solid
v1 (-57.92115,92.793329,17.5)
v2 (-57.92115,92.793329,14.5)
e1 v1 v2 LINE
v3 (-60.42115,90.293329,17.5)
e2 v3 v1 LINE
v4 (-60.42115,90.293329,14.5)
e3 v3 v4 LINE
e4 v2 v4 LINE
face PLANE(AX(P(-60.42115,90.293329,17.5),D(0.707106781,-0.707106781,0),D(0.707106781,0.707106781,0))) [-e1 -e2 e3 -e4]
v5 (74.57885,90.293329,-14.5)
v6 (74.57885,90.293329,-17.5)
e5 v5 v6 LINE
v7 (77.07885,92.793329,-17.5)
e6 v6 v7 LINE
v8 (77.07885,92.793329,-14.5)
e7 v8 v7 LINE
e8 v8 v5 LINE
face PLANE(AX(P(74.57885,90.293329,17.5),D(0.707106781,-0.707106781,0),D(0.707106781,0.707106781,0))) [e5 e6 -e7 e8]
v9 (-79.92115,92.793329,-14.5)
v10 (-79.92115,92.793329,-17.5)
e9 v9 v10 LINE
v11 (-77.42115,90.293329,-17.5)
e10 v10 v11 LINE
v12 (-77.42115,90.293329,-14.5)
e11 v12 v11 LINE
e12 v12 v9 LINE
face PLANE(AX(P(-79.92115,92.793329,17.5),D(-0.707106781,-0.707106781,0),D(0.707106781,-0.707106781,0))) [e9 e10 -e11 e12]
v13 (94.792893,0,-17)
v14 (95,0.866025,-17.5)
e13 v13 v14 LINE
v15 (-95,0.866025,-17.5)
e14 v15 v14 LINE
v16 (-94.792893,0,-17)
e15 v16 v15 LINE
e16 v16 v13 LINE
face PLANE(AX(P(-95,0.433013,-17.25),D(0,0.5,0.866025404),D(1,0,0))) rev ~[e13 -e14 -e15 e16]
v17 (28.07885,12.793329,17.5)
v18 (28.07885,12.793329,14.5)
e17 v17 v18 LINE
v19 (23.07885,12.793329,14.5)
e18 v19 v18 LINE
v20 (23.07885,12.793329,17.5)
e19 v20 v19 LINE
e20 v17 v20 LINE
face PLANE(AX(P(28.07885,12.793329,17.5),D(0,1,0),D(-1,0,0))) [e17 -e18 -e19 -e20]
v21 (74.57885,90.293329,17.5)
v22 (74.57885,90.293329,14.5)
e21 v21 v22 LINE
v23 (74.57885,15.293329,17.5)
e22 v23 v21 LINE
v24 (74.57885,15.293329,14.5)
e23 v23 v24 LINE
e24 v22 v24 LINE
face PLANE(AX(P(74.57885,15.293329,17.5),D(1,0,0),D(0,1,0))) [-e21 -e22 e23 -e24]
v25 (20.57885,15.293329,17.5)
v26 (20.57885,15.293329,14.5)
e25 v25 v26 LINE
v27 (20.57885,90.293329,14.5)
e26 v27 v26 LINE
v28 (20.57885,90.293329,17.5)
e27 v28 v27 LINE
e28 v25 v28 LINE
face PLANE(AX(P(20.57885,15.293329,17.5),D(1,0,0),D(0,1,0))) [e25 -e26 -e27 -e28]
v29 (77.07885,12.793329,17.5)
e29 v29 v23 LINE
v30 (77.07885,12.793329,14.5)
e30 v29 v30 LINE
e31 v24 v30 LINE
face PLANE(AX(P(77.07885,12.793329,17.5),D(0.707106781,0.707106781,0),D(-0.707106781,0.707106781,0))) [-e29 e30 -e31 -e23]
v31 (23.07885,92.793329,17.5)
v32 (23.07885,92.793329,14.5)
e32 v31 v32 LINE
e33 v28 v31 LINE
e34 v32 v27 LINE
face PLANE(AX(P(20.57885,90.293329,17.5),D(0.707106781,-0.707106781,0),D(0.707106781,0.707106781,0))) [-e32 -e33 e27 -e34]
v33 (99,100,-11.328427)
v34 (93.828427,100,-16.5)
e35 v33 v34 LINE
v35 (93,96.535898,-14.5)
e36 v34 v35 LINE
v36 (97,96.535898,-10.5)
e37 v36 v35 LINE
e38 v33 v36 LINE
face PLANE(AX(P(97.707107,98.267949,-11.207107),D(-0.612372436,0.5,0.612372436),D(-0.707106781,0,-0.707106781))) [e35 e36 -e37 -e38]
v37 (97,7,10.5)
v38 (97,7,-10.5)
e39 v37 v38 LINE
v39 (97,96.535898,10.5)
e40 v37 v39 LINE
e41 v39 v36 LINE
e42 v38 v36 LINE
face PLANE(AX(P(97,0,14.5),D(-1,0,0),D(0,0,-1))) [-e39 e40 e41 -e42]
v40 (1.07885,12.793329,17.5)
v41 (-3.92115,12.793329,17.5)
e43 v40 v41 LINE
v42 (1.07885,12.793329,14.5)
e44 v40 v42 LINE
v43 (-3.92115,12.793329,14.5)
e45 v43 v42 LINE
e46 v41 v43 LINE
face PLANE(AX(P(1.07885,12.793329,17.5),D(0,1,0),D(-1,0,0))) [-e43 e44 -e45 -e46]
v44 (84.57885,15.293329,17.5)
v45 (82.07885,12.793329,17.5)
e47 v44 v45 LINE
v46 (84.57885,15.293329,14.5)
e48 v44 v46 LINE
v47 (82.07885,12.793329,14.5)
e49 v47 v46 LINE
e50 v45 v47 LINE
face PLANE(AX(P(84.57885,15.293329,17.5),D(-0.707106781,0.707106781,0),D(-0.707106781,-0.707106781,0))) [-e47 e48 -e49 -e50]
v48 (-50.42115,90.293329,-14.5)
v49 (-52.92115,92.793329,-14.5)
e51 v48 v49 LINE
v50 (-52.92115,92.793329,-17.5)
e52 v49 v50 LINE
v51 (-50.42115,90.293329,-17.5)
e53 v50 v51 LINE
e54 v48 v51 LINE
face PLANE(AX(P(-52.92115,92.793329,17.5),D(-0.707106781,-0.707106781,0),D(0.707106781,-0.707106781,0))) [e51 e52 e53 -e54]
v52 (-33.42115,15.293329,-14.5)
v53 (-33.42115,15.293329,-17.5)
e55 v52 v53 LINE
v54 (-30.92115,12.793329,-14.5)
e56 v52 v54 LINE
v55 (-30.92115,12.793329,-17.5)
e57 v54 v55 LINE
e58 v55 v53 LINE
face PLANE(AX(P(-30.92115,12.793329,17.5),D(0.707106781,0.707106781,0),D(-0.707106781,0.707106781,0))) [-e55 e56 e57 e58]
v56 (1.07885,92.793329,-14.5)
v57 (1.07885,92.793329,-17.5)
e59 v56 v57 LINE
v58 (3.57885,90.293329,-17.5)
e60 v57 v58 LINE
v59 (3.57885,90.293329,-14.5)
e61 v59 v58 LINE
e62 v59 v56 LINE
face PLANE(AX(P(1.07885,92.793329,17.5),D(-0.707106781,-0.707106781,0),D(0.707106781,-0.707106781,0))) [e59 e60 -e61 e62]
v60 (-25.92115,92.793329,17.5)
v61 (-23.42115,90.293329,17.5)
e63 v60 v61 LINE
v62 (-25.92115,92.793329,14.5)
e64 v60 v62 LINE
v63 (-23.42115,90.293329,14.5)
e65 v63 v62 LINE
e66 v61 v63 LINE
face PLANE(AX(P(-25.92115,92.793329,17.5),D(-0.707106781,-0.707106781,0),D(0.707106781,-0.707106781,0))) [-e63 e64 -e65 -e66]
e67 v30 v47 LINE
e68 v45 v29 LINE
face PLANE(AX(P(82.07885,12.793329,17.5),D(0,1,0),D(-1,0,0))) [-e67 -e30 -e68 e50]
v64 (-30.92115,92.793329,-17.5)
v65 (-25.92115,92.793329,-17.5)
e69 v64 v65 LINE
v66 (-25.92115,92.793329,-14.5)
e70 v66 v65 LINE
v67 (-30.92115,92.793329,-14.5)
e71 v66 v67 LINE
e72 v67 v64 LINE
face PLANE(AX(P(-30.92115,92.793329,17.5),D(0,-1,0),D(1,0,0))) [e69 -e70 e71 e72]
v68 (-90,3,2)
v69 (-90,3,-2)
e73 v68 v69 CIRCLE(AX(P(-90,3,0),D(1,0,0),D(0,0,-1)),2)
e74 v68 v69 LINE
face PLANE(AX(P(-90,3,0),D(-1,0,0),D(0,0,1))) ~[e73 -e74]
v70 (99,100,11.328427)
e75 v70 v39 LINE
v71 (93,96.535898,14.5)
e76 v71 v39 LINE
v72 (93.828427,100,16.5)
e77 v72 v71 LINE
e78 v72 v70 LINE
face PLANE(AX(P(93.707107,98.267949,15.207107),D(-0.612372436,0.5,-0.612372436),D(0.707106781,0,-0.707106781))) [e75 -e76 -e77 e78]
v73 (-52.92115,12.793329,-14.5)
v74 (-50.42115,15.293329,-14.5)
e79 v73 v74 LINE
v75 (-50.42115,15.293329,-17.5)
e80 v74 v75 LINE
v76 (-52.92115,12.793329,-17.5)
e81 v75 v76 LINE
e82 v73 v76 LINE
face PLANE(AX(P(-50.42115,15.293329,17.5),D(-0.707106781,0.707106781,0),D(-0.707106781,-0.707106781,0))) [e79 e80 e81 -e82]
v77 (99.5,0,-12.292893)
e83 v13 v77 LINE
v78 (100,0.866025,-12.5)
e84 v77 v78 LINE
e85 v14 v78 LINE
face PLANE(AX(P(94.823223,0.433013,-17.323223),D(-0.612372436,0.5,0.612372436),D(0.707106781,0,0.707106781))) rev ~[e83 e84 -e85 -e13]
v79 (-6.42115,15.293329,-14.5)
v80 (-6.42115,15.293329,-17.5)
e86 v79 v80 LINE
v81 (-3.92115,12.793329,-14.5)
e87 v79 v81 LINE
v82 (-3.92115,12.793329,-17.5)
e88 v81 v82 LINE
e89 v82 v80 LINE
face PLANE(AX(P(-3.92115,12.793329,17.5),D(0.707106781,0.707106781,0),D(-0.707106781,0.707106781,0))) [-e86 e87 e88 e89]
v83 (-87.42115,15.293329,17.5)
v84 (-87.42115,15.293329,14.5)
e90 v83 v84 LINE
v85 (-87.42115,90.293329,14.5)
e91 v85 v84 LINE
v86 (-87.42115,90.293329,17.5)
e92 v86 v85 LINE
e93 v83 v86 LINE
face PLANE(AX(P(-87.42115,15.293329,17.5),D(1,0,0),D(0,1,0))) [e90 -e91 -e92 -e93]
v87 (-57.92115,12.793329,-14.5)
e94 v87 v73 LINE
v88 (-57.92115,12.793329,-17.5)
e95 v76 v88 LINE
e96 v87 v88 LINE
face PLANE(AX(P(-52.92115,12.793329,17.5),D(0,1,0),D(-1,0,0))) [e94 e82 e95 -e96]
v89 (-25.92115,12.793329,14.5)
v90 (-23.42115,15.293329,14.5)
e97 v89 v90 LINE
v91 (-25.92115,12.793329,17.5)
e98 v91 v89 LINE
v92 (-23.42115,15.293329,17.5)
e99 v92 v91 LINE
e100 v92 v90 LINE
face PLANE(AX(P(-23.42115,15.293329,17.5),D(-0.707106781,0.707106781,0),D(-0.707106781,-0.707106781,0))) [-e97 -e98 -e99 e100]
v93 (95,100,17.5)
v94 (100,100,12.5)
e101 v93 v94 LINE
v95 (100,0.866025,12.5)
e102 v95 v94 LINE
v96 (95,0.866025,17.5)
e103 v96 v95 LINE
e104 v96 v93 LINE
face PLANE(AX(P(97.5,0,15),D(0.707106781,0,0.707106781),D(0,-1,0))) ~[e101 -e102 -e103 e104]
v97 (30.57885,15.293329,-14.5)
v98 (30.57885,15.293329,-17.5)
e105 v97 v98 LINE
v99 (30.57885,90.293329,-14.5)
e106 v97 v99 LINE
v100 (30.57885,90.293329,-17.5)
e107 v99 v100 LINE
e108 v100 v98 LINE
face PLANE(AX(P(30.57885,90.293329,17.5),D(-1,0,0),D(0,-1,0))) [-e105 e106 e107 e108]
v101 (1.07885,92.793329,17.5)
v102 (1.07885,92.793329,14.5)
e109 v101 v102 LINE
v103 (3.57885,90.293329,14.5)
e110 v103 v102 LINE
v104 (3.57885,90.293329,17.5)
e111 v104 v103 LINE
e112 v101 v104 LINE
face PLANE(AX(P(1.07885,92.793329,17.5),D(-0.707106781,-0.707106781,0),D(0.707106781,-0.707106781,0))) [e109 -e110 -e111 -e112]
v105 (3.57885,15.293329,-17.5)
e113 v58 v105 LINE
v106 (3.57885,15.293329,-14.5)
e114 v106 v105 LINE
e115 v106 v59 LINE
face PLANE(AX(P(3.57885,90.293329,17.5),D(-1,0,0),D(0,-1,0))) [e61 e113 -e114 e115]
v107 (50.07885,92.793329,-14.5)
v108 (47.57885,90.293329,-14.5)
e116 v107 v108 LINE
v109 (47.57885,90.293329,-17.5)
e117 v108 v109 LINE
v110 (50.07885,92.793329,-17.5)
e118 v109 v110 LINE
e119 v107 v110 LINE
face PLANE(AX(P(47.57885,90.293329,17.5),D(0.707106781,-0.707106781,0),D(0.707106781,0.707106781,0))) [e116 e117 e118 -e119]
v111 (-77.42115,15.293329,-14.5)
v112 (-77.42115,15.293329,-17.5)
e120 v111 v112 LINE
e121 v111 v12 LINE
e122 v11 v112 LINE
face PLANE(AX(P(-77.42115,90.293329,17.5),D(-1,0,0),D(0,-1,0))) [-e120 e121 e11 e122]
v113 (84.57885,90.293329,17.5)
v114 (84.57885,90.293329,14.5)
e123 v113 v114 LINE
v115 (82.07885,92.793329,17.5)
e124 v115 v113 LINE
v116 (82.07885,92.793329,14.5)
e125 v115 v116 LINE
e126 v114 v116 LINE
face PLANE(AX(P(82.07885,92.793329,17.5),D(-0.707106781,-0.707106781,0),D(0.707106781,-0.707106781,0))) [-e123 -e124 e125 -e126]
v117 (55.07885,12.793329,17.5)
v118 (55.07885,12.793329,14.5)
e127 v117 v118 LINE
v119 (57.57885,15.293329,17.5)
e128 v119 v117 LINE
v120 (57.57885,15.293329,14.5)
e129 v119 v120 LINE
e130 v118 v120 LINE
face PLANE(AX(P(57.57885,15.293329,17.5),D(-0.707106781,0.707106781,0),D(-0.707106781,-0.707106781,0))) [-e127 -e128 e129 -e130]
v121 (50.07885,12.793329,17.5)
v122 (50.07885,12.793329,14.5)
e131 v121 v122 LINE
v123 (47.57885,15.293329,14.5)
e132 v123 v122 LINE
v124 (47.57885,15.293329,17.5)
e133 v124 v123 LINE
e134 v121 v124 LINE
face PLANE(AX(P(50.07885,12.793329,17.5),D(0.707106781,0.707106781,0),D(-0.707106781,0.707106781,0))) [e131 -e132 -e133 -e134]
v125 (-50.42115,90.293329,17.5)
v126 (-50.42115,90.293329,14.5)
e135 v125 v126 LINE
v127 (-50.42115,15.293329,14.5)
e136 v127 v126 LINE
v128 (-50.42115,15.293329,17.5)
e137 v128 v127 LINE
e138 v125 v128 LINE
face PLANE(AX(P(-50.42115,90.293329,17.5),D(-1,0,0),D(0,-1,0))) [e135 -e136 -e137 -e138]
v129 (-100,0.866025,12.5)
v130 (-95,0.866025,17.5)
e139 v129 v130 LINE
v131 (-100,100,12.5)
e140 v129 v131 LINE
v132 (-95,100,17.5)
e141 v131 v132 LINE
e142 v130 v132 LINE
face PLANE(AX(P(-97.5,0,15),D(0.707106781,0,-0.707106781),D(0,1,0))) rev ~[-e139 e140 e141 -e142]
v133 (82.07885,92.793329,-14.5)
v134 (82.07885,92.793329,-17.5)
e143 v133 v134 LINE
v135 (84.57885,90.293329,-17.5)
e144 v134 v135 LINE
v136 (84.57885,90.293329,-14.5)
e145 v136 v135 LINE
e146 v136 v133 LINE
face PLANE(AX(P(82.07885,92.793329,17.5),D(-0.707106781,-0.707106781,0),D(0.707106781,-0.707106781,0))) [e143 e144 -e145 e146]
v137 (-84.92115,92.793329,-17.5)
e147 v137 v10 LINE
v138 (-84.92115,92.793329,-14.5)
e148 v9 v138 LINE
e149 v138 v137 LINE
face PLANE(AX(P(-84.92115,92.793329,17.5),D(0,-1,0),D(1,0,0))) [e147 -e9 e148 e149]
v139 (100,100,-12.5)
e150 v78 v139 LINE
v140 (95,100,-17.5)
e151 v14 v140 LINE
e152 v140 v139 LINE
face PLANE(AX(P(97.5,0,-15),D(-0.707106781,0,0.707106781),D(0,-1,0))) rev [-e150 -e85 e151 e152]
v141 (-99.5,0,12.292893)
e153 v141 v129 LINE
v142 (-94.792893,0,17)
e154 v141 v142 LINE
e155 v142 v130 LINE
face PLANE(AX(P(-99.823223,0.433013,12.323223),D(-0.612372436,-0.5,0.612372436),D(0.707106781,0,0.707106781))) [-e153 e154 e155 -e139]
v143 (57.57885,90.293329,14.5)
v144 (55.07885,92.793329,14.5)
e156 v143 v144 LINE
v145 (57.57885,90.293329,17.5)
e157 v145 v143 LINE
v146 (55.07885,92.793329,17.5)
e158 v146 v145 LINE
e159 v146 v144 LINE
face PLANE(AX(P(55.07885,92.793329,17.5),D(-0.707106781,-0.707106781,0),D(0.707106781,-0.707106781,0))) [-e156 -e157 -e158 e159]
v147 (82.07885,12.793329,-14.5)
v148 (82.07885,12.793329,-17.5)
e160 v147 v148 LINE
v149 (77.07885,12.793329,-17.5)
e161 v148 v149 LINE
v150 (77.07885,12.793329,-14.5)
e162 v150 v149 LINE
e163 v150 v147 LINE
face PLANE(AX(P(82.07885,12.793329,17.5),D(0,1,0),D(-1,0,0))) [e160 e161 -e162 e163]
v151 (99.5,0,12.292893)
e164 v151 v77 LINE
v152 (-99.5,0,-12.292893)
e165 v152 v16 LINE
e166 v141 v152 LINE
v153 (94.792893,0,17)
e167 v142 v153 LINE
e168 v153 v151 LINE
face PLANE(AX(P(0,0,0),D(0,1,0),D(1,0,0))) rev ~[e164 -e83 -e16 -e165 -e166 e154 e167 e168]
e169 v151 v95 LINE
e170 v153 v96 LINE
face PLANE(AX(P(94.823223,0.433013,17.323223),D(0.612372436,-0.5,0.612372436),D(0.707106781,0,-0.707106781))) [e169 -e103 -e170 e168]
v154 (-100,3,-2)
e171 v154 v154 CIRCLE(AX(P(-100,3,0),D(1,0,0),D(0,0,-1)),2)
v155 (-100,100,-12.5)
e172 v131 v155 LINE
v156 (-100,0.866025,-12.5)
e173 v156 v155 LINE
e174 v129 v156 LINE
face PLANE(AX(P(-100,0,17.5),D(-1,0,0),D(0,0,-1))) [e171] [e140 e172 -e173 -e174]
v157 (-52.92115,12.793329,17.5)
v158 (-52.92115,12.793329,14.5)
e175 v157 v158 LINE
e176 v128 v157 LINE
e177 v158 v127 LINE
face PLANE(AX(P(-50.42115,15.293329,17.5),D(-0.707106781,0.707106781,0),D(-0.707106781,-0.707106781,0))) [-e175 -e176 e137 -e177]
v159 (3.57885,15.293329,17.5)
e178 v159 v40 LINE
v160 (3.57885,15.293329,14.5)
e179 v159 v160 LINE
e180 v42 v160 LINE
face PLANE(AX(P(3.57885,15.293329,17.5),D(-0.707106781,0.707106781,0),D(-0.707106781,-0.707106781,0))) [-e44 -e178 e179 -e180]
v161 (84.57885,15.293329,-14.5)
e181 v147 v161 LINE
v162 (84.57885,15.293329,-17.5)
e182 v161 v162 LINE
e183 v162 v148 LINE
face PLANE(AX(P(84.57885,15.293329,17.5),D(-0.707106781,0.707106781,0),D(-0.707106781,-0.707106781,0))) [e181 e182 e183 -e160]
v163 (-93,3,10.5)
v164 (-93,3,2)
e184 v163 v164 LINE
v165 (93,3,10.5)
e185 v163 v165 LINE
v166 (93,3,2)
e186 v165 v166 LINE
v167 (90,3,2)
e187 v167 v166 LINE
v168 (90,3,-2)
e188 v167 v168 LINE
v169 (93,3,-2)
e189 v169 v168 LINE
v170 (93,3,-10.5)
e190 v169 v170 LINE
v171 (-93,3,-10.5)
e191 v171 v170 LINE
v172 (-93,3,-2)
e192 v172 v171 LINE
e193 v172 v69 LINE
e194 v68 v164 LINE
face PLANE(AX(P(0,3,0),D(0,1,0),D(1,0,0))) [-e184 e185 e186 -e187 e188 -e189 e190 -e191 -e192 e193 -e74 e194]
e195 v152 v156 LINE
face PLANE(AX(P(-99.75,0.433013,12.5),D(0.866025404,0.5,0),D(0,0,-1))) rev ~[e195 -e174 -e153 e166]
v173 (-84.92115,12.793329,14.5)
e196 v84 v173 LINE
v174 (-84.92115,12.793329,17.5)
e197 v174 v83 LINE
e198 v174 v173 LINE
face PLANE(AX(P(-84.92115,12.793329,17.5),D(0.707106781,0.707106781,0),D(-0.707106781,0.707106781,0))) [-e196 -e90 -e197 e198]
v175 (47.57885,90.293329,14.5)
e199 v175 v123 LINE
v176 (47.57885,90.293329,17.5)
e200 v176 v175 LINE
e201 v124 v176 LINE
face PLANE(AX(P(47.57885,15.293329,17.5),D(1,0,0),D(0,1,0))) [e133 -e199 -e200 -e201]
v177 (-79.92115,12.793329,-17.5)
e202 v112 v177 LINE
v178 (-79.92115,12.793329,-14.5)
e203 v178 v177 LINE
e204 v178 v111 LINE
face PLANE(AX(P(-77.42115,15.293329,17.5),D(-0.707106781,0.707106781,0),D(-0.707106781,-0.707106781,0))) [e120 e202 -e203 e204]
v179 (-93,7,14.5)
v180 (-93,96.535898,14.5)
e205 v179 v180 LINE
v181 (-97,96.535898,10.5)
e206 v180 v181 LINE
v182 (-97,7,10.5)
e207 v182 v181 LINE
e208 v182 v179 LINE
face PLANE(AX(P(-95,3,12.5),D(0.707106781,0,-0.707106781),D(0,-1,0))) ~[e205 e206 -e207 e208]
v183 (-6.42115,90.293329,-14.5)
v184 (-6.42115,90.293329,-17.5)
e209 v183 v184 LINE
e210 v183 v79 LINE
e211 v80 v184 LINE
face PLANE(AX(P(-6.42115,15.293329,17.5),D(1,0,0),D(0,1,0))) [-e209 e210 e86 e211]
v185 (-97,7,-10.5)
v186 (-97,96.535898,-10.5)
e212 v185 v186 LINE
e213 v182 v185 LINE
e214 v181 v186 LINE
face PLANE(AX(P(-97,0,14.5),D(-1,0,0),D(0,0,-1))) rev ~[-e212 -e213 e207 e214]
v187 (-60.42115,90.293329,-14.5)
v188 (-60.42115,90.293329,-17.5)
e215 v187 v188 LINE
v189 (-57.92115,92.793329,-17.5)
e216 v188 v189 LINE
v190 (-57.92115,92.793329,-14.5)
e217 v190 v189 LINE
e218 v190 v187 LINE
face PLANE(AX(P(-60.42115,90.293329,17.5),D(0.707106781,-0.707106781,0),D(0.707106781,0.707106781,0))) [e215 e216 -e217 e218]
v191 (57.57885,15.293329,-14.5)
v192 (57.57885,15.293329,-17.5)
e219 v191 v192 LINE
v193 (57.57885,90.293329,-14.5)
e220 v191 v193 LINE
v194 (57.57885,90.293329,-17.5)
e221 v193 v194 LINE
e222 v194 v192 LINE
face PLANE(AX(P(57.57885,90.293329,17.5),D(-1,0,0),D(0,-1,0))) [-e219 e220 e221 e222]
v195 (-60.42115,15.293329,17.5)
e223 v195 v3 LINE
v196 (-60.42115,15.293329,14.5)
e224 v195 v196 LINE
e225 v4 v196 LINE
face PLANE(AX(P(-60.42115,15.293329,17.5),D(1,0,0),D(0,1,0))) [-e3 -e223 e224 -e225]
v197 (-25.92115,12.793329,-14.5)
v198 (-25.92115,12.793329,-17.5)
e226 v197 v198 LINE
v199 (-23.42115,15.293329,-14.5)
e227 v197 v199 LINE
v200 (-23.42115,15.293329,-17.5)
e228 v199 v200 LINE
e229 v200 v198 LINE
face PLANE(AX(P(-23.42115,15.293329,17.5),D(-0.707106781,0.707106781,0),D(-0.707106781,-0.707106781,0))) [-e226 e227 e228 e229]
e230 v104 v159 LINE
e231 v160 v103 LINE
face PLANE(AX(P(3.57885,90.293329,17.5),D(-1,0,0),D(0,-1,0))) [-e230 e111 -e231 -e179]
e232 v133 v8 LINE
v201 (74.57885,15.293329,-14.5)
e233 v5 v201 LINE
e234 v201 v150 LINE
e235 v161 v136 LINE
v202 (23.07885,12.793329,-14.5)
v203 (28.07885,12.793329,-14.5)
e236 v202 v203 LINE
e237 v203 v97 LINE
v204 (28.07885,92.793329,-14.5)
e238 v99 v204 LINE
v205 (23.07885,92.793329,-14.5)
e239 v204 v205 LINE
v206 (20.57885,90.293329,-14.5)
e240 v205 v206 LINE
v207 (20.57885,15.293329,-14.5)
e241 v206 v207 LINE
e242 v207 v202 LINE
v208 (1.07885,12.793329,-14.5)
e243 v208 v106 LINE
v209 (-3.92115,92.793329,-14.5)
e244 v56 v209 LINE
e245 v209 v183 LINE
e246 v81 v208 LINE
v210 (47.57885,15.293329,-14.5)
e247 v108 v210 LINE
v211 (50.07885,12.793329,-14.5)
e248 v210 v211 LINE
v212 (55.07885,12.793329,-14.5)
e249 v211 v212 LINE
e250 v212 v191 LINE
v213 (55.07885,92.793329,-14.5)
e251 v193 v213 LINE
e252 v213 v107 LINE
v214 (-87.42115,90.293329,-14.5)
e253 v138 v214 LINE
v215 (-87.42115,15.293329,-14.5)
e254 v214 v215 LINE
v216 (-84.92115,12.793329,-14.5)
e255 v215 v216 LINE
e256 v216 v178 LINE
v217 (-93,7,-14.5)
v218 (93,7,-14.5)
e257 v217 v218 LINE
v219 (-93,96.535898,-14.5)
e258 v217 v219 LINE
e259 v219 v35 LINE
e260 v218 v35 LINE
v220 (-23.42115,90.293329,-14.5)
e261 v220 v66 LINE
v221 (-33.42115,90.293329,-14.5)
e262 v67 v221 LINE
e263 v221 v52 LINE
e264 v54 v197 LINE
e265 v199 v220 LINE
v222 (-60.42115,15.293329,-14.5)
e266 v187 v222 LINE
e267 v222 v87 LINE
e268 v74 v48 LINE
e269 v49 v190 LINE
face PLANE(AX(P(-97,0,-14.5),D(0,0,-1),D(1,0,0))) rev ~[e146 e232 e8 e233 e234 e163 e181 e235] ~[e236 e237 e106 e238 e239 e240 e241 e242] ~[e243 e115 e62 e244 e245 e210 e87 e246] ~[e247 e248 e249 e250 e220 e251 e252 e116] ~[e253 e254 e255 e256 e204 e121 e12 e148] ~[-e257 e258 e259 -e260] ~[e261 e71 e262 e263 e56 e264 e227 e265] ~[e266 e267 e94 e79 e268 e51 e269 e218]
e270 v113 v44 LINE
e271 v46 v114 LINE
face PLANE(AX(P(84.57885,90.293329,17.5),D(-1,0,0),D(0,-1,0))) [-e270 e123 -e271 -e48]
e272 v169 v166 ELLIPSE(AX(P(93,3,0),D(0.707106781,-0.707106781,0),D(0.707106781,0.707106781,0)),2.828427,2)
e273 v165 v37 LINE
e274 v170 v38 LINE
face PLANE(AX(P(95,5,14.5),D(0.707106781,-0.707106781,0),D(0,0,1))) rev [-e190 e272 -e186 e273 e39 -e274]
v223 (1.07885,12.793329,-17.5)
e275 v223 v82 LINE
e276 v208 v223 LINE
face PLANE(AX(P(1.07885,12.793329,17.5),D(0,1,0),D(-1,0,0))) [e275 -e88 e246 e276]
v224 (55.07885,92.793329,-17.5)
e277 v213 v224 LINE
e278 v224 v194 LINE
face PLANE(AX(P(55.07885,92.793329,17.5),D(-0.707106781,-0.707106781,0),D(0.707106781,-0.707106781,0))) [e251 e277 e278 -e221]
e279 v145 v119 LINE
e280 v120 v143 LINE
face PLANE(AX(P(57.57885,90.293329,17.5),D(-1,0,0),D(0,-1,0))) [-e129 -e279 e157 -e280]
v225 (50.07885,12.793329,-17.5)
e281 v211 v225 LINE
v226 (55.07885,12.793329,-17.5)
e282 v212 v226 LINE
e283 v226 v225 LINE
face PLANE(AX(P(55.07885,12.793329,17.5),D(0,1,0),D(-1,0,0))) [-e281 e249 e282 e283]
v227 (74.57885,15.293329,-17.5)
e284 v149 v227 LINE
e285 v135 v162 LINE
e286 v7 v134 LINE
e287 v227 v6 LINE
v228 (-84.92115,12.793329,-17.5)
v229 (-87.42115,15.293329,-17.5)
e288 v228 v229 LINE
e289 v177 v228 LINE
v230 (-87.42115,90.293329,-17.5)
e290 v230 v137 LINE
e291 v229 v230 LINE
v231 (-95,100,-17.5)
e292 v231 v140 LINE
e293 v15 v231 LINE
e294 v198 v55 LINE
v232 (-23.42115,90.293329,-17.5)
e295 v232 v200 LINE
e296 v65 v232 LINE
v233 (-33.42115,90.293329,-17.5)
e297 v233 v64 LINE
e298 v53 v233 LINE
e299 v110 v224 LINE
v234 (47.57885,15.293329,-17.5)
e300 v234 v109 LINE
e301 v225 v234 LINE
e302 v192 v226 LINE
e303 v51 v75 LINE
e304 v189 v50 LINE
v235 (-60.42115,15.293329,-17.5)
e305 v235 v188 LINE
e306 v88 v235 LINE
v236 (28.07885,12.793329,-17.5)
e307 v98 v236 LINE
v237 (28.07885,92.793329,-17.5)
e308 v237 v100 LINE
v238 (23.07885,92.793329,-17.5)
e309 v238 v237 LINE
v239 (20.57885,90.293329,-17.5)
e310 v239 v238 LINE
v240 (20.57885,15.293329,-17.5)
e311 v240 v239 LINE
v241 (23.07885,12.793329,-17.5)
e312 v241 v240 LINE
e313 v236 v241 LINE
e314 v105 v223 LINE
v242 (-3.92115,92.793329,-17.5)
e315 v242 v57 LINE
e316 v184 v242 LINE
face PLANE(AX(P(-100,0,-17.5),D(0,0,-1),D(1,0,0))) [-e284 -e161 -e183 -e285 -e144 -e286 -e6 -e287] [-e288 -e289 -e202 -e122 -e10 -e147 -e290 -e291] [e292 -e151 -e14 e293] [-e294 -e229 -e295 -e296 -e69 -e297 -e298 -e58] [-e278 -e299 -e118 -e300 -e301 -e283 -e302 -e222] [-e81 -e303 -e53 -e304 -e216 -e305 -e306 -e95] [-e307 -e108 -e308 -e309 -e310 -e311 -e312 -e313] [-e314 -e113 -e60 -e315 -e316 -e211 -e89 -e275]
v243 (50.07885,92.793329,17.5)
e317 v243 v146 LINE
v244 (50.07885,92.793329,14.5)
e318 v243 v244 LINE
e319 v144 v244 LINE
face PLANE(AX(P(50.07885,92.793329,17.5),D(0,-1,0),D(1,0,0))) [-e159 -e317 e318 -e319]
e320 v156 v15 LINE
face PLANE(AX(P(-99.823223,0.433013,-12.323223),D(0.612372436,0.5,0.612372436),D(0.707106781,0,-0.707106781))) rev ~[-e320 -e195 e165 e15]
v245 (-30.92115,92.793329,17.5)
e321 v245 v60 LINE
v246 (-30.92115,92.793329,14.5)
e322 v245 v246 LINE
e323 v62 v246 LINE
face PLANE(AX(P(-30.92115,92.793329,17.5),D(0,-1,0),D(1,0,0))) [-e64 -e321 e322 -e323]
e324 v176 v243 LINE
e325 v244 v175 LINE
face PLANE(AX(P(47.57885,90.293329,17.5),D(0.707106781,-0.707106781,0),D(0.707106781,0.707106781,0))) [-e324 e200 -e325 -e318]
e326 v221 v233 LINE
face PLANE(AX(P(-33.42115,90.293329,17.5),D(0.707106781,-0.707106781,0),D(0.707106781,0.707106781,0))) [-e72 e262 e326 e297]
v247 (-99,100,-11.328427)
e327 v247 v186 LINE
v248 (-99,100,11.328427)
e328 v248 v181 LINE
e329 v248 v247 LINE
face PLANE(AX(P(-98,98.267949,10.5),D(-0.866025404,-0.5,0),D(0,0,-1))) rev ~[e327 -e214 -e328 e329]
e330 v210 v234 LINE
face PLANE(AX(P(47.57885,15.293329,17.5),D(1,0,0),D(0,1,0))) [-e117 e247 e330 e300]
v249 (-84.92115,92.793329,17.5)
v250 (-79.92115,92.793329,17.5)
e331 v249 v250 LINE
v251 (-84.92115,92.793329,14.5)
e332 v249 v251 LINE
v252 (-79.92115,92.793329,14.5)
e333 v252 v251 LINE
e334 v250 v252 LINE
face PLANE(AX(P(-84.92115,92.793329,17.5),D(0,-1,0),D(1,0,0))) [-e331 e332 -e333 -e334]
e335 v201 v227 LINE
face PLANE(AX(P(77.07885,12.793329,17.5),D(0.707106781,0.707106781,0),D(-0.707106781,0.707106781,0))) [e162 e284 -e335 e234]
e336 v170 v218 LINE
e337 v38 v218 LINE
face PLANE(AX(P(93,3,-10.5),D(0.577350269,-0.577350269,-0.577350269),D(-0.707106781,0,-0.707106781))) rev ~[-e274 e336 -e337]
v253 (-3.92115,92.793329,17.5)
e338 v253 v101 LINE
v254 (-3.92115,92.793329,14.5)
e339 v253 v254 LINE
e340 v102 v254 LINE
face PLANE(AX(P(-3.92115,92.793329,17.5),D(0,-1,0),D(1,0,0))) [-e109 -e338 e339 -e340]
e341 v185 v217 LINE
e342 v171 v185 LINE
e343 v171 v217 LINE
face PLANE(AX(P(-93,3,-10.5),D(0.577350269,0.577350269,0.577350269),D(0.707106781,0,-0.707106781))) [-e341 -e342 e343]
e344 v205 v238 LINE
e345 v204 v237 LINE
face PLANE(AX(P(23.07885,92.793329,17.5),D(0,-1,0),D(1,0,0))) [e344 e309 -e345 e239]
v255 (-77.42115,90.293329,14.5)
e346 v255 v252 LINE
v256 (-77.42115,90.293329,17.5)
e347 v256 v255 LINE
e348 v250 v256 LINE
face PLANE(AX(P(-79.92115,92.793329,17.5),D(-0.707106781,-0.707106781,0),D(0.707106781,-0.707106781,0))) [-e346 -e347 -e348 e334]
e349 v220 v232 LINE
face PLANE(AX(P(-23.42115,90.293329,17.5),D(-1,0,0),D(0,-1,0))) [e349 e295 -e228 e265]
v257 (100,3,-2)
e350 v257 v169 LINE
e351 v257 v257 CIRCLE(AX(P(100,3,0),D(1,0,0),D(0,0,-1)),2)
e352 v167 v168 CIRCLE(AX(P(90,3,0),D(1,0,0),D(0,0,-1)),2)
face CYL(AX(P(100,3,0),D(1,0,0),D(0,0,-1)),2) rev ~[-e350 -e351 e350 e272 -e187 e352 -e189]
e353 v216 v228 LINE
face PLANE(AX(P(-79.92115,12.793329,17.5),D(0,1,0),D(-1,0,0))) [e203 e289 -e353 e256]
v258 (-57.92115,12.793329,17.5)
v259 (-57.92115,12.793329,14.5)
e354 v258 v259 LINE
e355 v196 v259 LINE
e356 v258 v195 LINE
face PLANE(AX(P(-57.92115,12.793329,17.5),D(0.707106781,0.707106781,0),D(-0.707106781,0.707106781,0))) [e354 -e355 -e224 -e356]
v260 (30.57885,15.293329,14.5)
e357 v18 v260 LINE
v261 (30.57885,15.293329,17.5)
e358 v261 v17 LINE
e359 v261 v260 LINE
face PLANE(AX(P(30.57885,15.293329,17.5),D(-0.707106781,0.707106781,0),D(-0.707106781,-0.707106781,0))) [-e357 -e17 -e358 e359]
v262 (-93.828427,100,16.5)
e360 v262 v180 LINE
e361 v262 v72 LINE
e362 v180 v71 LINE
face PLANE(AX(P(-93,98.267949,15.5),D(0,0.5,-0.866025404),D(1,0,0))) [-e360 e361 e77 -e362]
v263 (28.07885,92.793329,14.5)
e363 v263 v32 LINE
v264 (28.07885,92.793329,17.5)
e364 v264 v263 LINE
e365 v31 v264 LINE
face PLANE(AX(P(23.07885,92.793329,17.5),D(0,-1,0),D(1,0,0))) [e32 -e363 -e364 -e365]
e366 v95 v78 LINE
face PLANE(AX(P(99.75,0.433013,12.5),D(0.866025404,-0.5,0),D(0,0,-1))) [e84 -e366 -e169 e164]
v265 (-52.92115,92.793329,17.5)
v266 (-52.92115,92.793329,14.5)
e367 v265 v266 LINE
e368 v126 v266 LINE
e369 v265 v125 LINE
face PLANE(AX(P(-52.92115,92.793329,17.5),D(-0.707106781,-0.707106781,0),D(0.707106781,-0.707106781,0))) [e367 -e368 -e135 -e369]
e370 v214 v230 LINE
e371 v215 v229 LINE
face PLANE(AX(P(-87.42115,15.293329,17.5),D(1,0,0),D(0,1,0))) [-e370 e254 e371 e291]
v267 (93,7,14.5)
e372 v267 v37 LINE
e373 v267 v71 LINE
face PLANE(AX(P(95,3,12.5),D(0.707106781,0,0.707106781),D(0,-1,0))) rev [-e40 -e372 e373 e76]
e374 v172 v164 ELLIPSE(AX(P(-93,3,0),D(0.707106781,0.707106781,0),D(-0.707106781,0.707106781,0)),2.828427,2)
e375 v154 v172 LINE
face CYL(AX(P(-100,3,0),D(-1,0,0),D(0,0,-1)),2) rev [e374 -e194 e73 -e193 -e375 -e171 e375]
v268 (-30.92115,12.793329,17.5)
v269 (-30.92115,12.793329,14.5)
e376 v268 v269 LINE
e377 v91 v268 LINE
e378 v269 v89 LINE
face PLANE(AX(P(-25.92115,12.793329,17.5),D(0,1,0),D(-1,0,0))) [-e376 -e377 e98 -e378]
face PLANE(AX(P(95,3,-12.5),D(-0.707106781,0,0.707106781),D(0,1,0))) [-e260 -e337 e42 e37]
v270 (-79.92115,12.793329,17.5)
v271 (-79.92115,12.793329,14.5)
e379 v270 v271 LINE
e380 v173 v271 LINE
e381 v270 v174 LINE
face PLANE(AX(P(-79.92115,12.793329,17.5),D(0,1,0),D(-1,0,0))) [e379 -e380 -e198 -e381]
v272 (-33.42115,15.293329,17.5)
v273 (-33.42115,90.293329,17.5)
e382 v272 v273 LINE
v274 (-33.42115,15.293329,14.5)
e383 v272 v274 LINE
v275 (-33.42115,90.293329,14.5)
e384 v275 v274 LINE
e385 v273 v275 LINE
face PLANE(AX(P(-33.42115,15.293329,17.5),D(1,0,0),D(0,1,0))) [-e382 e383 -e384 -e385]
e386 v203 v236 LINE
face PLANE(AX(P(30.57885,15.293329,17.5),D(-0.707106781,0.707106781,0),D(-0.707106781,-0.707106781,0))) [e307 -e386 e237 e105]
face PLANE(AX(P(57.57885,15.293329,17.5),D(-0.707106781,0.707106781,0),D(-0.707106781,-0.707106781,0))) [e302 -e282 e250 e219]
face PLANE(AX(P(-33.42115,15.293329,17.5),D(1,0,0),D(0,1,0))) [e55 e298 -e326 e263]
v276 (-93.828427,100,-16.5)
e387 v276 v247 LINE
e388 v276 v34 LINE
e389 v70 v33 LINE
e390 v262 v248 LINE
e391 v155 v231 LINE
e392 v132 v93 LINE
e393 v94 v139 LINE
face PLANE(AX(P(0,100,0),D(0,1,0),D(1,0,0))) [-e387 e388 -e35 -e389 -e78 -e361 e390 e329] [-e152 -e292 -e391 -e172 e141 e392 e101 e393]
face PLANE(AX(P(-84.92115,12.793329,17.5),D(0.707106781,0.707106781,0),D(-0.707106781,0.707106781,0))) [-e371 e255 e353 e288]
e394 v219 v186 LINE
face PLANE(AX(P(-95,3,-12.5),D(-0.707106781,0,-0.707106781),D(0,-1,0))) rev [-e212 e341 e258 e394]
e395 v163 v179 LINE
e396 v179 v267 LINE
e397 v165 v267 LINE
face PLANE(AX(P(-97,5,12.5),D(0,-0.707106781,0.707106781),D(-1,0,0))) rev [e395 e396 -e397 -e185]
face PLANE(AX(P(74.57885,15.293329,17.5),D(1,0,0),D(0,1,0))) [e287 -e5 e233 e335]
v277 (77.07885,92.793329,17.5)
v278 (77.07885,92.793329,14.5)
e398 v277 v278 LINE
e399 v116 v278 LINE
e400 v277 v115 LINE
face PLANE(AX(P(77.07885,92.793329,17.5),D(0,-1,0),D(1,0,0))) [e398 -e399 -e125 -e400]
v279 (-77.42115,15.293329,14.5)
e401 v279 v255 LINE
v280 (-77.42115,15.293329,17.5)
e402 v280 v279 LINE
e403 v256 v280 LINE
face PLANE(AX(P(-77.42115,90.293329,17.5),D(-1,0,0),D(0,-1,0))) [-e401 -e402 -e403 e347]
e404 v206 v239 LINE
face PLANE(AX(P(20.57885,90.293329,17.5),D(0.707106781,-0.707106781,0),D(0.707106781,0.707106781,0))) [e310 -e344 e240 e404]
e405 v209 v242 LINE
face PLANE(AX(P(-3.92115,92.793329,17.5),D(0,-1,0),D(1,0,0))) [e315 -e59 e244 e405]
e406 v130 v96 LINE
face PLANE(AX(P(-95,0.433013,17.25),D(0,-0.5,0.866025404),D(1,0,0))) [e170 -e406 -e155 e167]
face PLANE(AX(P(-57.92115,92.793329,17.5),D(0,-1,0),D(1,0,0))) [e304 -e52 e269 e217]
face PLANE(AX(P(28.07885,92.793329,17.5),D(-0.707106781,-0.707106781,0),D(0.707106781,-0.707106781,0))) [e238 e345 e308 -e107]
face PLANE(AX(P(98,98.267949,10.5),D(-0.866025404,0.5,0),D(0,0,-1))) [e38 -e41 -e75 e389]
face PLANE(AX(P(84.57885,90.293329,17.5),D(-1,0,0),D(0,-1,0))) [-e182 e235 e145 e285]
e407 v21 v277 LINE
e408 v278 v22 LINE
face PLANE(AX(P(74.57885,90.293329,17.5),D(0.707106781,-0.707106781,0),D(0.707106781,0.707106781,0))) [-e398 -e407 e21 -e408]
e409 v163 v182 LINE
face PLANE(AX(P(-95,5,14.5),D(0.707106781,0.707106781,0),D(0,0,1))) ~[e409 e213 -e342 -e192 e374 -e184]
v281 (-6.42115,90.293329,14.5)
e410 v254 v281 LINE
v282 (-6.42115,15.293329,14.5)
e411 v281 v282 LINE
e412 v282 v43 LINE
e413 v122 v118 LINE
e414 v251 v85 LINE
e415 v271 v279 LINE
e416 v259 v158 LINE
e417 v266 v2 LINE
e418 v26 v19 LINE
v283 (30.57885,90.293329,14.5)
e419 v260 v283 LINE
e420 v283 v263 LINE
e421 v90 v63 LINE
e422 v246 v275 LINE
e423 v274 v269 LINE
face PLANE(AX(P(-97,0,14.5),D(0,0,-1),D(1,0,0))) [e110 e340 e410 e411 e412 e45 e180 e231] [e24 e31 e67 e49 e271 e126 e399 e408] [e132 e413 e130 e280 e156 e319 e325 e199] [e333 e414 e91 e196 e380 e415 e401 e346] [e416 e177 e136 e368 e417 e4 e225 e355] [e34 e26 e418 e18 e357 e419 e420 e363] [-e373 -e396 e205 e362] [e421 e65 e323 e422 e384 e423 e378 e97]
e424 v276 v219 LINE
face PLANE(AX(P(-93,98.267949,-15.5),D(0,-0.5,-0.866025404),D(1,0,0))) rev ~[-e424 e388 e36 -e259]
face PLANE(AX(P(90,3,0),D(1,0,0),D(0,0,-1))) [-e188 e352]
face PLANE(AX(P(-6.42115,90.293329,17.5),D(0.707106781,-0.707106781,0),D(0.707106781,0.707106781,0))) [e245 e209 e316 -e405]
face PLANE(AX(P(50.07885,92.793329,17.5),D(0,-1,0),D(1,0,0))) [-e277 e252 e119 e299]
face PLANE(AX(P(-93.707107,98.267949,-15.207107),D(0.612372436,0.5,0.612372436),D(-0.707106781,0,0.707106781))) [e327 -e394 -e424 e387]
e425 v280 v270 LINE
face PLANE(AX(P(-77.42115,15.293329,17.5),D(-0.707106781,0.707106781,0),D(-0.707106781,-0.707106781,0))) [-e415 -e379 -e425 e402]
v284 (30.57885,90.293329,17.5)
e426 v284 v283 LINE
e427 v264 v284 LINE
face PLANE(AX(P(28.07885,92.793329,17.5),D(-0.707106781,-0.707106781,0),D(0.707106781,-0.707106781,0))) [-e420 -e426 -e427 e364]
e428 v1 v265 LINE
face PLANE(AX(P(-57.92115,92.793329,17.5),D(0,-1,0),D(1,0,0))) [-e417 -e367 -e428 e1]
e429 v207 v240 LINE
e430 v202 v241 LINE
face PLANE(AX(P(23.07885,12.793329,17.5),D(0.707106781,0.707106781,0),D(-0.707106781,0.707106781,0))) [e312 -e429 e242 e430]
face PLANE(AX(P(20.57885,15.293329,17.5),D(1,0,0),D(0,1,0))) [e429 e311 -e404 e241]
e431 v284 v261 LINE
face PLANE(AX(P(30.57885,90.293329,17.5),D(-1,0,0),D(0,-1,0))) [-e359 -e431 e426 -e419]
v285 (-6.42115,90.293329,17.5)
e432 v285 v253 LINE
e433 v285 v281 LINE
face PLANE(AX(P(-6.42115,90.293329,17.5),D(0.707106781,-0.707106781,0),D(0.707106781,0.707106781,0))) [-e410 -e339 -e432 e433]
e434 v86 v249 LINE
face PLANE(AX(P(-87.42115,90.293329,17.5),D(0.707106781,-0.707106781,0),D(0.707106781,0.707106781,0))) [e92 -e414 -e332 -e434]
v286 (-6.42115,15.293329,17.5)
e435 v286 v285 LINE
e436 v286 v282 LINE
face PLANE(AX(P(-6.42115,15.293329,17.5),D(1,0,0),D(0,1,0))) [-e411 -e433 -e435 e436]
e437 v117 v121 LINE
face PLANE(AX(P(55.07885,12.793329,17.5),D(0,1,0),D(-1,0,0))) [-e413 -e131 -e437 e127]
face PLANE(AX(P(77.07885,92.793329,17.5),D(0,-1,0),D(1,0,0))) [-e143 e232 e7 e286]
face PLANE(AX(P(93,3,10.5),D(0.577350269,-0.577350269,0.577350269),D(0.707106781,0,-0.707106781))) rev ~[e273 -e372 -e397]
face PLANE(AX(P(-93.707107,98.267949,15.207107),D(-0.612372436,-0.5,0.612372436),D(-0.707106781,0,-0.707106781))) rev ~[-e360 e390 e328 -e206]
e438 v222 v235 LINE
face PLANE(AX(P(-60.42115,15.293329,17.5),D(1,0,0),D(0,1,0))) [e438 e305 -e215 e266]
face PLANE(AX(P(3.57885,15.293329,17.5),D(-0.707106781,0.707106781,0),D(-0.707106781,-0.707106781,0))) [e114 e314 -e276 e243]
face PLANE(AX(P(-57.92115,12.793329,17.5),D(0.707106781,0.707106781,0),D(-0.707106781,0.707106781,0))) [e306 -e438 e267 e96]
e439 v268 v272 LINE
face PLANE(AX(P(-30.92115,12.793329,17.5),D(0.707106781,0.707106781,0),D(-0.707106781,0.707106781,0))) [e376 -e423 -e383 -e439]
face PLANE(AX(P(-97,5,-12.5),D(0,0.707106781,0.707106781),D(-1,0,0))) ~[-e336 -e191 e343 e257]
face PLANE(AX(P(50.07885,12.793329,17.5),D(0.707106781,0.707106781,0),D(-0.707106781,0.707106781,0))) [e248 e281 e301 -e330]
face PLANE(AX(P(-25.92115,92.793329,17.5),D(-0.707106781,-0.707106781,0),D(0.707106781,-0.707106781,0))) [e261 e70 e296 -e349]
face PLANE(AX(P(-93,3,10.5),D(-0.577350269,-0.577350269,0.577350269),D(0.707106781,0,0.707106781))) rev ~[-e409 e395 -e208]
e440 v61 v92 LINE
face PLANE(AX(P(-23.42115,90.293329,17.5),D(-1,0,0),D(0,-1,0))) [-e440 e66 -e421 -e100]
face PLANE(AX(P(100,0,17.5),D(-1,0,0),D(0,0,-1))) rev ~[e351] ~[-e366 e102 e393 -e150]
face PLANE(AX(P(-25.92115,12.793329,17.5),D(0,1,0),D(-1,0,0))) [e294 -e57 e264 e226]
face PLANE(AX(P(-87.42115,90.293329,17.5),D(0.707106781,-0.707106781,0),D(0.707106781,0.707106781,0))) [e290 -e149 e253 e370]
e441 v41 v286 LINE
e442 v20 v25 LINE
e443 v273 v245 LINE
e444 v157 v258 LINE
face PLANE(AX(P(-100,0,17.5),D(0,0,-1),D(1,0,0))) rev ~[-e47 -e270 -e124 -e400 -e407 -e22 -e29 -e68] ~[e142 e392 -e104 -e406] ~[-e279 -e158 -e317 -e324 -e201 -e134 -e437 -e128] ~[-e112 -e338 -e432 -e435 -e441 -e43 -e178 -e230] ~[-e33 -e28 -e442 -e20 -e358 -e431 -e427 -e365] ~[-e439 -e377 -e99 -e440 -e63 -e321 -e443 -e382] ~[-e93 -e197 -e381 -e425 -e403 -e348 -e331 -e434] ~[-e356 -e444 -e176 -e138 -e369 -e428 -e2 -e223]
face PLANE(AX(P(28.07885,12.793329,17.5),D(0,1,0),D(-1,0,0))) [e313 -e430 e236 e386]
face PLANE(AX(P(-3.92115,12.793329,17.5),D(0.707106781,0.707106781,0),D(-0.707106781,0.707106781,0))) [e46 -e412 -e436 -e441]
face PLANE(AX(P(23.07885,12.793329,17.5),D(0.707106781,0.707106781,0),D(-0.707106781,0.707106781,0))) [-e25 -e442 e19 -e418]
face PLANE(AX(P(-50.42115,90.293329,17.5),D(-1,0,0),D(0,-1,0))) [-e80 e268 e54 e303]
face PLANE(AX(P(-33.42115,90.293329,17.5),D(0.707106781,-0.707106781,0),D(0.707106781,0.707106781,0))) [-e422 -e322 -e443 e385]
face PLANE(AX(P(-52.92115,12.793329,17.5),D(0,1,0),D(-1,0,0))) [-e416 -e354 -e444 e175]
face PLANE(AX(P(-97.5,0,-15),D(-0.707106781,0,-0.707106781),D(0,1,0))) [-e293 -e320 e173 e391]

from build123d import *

# Parameters (mm, degrees)
SKETCH1_W           = 200
SKETCH1_H           = 35
SKETCH1_W_2         = 194
SKETCH1_H_2         = 29
BOSS_EXTRUDE1_DEPTH = 100
SKETCH1_3_W         = 194
SKETCH1_3_H         = 29
BOSS_EXTRUDE2_DEPTH = 3
CHAMFER1_SIZE       = 4
CHAMFER2_SIZE       = 5
CHAMFER3_SIZE       = 2
CHAMFER3_SIZE2      = 3.464101615
SKETCH2_R           = 2
CUT_EXTRUDE1_DEPTH  = 10
CHAMFER4_SIZE       = 0.5
CHAMFER4_SIZE2      = 0.866025404
CUT_EXTRUDE2_DEPTH  = 35
LPATTERN2_COUNT     = 7
LPATTERN2_PITCH     = 27


with BuildPart() as part:
    # Sketch1 → Boss-Extrude1 (new body)
    with BuildSketch(Plane(origin=(0, 0, 0), x_dir=(1, 0, 0), z_dir=(0, 1, 0))):
        Rectangle(SKETCH1_W, SKETCH1_H)
        Rectangle(SKETCH1_W_2, SKETCH1_H_2, mode=Mode.SUBTRACT)
    extrude(amount=BOSS_EXTRUDE1_DEPTH)

    # Sketch1<3> → Boss-Extrude2 (add)
    with BuildSketch(Plane(origin=(0, 0, 0), x_dir=(1, 0, 0), z_dir=(0, 1, 0))):
        Rectangle(SKETCH1_3_W, SKETCH1_3_H)
    extrude(amount=BOSS_EXTRUDE2_DEPTH)

    # Chamfer1
    chamfer1_edges = [part.edges().sort_by_distance(p)[0] for p in [
        (97, 51.5, 14.5),
        (97, 51.5, -14.5),
        (-97, 51.5, -14.5),
        (-97, 51.5, 14.5),
        (-97, 3, 0),
        (0, 3, 14.5),
        (97, 3, 0),
        (0, 3, -14.5),
    ]]
    chamfer(chamfer1_edges, length=CHAMFER1_SIZE)

    # Chamfer2
    chamfer2_edges = [part.edges().sort_by_distance(p)[0] for p in [
        (-100, 50, -17.5),
        (100, 50, -17.5),
        (100, 50, 17.5),
        (-100, 50, 17.5),
    ]]
    chamfer(chamfer2_edges, length=CHAMFER2_SIZE)

    # Chamfer3
    chamfer3_edges = [part.edges().sort_by_distance(p)[0] for p in [
        (0, 100, -14.5),
        (97, 100, 0),
        (0, 100, 14.5),
        (-97, 100, 0),
        (95, 100, -12.5),
        (95, 100, 12.5),
        (-95, 100, 12.5),
        (-95, 100, -12.5),
    ]]
    chamfer3_side = [part.faces().sort_by_distance(p)[0] for p in [
        (-97.96960595, 100, 0),
    ]]
    chamfer(chamfer3_edges, length=CHAMFER3_SIZE, length2=CHAMFER3_SIZE2, reference=chamfer3_side[0])

    # Sketch2 → Cut-Extrude1 (cut)
    with BuildSketch(Plane(origin=(100, 0, 0), x_dir=(0, 0, -1), z_dir=(1, 0, 0))):
        with Locations((0, 3)):
            Circle(SKETCH2_R)
    cut_extrude1 = extrude(amount=-CUT_EXTRUDE1_DEPTH, mode=Mode.SUBTRACT)

    # Mirror1: Cut-Extrude1 across plane
    add(cut_extrude1.mirror(Plane(origin=(0, 0, 0), x_dir=(0, 0, 1), z_dir=(1, 0, 0))), mode=Mode.SUBTRACT)

    # Chamfer4
    chamfer4_edges = [part.edges().sort_by_distance(p)[0] for p in [
        (0, 0, -17.5),
        (-100, 0, 0),
        (100, 0, 0),
        (0, 0, 17.5),
        (-97.5, 0, -15),
        (-97.5, 0, 15),
        (97.5, 0, 15),
        (97.5, 0, -15),
    ]]
    chamfer4_side = [part.faces().sort_by_distance(p)[0] for p in [
        (0, 0, 0),
    ]]
    chamfer(chamfer4_edges, length=CHAMFER4_SIZE, length2=CHAMFER4_SIZE2, reference=chamfer4_side[0])

    # Sketch3 → Cut-Extrude2 (cut)
    with BuildSketch(Plane.XY.offset(17.5)):
        Polygon((-87.421150056, 90.293329307), (-84.921150056, 92.793329307), (-79.921150056, 92.793329307), (-77.421150056, 90.293329307), (-77.421150056, 15.293329307), (-79.921150056, 12.793329307), (-84.921150056, 12.793329307), (-87.421150056, 15.293329307), align=None)
    cut_extrude2 = extrude(amount=-CUT_EXTRUDE2_DEPTH, mode=Mode.SUBTRACT)

    # LPattern2: Cut-Extrude2 ×7
    with Locations(*[(i * LPATTERN2_PITCH, 0, 0) for i in range(1, LPATTERN2_COUNT)]):
        add(cut_extrude2, mode=Mode.SUBTRACT)


solid = part.part
